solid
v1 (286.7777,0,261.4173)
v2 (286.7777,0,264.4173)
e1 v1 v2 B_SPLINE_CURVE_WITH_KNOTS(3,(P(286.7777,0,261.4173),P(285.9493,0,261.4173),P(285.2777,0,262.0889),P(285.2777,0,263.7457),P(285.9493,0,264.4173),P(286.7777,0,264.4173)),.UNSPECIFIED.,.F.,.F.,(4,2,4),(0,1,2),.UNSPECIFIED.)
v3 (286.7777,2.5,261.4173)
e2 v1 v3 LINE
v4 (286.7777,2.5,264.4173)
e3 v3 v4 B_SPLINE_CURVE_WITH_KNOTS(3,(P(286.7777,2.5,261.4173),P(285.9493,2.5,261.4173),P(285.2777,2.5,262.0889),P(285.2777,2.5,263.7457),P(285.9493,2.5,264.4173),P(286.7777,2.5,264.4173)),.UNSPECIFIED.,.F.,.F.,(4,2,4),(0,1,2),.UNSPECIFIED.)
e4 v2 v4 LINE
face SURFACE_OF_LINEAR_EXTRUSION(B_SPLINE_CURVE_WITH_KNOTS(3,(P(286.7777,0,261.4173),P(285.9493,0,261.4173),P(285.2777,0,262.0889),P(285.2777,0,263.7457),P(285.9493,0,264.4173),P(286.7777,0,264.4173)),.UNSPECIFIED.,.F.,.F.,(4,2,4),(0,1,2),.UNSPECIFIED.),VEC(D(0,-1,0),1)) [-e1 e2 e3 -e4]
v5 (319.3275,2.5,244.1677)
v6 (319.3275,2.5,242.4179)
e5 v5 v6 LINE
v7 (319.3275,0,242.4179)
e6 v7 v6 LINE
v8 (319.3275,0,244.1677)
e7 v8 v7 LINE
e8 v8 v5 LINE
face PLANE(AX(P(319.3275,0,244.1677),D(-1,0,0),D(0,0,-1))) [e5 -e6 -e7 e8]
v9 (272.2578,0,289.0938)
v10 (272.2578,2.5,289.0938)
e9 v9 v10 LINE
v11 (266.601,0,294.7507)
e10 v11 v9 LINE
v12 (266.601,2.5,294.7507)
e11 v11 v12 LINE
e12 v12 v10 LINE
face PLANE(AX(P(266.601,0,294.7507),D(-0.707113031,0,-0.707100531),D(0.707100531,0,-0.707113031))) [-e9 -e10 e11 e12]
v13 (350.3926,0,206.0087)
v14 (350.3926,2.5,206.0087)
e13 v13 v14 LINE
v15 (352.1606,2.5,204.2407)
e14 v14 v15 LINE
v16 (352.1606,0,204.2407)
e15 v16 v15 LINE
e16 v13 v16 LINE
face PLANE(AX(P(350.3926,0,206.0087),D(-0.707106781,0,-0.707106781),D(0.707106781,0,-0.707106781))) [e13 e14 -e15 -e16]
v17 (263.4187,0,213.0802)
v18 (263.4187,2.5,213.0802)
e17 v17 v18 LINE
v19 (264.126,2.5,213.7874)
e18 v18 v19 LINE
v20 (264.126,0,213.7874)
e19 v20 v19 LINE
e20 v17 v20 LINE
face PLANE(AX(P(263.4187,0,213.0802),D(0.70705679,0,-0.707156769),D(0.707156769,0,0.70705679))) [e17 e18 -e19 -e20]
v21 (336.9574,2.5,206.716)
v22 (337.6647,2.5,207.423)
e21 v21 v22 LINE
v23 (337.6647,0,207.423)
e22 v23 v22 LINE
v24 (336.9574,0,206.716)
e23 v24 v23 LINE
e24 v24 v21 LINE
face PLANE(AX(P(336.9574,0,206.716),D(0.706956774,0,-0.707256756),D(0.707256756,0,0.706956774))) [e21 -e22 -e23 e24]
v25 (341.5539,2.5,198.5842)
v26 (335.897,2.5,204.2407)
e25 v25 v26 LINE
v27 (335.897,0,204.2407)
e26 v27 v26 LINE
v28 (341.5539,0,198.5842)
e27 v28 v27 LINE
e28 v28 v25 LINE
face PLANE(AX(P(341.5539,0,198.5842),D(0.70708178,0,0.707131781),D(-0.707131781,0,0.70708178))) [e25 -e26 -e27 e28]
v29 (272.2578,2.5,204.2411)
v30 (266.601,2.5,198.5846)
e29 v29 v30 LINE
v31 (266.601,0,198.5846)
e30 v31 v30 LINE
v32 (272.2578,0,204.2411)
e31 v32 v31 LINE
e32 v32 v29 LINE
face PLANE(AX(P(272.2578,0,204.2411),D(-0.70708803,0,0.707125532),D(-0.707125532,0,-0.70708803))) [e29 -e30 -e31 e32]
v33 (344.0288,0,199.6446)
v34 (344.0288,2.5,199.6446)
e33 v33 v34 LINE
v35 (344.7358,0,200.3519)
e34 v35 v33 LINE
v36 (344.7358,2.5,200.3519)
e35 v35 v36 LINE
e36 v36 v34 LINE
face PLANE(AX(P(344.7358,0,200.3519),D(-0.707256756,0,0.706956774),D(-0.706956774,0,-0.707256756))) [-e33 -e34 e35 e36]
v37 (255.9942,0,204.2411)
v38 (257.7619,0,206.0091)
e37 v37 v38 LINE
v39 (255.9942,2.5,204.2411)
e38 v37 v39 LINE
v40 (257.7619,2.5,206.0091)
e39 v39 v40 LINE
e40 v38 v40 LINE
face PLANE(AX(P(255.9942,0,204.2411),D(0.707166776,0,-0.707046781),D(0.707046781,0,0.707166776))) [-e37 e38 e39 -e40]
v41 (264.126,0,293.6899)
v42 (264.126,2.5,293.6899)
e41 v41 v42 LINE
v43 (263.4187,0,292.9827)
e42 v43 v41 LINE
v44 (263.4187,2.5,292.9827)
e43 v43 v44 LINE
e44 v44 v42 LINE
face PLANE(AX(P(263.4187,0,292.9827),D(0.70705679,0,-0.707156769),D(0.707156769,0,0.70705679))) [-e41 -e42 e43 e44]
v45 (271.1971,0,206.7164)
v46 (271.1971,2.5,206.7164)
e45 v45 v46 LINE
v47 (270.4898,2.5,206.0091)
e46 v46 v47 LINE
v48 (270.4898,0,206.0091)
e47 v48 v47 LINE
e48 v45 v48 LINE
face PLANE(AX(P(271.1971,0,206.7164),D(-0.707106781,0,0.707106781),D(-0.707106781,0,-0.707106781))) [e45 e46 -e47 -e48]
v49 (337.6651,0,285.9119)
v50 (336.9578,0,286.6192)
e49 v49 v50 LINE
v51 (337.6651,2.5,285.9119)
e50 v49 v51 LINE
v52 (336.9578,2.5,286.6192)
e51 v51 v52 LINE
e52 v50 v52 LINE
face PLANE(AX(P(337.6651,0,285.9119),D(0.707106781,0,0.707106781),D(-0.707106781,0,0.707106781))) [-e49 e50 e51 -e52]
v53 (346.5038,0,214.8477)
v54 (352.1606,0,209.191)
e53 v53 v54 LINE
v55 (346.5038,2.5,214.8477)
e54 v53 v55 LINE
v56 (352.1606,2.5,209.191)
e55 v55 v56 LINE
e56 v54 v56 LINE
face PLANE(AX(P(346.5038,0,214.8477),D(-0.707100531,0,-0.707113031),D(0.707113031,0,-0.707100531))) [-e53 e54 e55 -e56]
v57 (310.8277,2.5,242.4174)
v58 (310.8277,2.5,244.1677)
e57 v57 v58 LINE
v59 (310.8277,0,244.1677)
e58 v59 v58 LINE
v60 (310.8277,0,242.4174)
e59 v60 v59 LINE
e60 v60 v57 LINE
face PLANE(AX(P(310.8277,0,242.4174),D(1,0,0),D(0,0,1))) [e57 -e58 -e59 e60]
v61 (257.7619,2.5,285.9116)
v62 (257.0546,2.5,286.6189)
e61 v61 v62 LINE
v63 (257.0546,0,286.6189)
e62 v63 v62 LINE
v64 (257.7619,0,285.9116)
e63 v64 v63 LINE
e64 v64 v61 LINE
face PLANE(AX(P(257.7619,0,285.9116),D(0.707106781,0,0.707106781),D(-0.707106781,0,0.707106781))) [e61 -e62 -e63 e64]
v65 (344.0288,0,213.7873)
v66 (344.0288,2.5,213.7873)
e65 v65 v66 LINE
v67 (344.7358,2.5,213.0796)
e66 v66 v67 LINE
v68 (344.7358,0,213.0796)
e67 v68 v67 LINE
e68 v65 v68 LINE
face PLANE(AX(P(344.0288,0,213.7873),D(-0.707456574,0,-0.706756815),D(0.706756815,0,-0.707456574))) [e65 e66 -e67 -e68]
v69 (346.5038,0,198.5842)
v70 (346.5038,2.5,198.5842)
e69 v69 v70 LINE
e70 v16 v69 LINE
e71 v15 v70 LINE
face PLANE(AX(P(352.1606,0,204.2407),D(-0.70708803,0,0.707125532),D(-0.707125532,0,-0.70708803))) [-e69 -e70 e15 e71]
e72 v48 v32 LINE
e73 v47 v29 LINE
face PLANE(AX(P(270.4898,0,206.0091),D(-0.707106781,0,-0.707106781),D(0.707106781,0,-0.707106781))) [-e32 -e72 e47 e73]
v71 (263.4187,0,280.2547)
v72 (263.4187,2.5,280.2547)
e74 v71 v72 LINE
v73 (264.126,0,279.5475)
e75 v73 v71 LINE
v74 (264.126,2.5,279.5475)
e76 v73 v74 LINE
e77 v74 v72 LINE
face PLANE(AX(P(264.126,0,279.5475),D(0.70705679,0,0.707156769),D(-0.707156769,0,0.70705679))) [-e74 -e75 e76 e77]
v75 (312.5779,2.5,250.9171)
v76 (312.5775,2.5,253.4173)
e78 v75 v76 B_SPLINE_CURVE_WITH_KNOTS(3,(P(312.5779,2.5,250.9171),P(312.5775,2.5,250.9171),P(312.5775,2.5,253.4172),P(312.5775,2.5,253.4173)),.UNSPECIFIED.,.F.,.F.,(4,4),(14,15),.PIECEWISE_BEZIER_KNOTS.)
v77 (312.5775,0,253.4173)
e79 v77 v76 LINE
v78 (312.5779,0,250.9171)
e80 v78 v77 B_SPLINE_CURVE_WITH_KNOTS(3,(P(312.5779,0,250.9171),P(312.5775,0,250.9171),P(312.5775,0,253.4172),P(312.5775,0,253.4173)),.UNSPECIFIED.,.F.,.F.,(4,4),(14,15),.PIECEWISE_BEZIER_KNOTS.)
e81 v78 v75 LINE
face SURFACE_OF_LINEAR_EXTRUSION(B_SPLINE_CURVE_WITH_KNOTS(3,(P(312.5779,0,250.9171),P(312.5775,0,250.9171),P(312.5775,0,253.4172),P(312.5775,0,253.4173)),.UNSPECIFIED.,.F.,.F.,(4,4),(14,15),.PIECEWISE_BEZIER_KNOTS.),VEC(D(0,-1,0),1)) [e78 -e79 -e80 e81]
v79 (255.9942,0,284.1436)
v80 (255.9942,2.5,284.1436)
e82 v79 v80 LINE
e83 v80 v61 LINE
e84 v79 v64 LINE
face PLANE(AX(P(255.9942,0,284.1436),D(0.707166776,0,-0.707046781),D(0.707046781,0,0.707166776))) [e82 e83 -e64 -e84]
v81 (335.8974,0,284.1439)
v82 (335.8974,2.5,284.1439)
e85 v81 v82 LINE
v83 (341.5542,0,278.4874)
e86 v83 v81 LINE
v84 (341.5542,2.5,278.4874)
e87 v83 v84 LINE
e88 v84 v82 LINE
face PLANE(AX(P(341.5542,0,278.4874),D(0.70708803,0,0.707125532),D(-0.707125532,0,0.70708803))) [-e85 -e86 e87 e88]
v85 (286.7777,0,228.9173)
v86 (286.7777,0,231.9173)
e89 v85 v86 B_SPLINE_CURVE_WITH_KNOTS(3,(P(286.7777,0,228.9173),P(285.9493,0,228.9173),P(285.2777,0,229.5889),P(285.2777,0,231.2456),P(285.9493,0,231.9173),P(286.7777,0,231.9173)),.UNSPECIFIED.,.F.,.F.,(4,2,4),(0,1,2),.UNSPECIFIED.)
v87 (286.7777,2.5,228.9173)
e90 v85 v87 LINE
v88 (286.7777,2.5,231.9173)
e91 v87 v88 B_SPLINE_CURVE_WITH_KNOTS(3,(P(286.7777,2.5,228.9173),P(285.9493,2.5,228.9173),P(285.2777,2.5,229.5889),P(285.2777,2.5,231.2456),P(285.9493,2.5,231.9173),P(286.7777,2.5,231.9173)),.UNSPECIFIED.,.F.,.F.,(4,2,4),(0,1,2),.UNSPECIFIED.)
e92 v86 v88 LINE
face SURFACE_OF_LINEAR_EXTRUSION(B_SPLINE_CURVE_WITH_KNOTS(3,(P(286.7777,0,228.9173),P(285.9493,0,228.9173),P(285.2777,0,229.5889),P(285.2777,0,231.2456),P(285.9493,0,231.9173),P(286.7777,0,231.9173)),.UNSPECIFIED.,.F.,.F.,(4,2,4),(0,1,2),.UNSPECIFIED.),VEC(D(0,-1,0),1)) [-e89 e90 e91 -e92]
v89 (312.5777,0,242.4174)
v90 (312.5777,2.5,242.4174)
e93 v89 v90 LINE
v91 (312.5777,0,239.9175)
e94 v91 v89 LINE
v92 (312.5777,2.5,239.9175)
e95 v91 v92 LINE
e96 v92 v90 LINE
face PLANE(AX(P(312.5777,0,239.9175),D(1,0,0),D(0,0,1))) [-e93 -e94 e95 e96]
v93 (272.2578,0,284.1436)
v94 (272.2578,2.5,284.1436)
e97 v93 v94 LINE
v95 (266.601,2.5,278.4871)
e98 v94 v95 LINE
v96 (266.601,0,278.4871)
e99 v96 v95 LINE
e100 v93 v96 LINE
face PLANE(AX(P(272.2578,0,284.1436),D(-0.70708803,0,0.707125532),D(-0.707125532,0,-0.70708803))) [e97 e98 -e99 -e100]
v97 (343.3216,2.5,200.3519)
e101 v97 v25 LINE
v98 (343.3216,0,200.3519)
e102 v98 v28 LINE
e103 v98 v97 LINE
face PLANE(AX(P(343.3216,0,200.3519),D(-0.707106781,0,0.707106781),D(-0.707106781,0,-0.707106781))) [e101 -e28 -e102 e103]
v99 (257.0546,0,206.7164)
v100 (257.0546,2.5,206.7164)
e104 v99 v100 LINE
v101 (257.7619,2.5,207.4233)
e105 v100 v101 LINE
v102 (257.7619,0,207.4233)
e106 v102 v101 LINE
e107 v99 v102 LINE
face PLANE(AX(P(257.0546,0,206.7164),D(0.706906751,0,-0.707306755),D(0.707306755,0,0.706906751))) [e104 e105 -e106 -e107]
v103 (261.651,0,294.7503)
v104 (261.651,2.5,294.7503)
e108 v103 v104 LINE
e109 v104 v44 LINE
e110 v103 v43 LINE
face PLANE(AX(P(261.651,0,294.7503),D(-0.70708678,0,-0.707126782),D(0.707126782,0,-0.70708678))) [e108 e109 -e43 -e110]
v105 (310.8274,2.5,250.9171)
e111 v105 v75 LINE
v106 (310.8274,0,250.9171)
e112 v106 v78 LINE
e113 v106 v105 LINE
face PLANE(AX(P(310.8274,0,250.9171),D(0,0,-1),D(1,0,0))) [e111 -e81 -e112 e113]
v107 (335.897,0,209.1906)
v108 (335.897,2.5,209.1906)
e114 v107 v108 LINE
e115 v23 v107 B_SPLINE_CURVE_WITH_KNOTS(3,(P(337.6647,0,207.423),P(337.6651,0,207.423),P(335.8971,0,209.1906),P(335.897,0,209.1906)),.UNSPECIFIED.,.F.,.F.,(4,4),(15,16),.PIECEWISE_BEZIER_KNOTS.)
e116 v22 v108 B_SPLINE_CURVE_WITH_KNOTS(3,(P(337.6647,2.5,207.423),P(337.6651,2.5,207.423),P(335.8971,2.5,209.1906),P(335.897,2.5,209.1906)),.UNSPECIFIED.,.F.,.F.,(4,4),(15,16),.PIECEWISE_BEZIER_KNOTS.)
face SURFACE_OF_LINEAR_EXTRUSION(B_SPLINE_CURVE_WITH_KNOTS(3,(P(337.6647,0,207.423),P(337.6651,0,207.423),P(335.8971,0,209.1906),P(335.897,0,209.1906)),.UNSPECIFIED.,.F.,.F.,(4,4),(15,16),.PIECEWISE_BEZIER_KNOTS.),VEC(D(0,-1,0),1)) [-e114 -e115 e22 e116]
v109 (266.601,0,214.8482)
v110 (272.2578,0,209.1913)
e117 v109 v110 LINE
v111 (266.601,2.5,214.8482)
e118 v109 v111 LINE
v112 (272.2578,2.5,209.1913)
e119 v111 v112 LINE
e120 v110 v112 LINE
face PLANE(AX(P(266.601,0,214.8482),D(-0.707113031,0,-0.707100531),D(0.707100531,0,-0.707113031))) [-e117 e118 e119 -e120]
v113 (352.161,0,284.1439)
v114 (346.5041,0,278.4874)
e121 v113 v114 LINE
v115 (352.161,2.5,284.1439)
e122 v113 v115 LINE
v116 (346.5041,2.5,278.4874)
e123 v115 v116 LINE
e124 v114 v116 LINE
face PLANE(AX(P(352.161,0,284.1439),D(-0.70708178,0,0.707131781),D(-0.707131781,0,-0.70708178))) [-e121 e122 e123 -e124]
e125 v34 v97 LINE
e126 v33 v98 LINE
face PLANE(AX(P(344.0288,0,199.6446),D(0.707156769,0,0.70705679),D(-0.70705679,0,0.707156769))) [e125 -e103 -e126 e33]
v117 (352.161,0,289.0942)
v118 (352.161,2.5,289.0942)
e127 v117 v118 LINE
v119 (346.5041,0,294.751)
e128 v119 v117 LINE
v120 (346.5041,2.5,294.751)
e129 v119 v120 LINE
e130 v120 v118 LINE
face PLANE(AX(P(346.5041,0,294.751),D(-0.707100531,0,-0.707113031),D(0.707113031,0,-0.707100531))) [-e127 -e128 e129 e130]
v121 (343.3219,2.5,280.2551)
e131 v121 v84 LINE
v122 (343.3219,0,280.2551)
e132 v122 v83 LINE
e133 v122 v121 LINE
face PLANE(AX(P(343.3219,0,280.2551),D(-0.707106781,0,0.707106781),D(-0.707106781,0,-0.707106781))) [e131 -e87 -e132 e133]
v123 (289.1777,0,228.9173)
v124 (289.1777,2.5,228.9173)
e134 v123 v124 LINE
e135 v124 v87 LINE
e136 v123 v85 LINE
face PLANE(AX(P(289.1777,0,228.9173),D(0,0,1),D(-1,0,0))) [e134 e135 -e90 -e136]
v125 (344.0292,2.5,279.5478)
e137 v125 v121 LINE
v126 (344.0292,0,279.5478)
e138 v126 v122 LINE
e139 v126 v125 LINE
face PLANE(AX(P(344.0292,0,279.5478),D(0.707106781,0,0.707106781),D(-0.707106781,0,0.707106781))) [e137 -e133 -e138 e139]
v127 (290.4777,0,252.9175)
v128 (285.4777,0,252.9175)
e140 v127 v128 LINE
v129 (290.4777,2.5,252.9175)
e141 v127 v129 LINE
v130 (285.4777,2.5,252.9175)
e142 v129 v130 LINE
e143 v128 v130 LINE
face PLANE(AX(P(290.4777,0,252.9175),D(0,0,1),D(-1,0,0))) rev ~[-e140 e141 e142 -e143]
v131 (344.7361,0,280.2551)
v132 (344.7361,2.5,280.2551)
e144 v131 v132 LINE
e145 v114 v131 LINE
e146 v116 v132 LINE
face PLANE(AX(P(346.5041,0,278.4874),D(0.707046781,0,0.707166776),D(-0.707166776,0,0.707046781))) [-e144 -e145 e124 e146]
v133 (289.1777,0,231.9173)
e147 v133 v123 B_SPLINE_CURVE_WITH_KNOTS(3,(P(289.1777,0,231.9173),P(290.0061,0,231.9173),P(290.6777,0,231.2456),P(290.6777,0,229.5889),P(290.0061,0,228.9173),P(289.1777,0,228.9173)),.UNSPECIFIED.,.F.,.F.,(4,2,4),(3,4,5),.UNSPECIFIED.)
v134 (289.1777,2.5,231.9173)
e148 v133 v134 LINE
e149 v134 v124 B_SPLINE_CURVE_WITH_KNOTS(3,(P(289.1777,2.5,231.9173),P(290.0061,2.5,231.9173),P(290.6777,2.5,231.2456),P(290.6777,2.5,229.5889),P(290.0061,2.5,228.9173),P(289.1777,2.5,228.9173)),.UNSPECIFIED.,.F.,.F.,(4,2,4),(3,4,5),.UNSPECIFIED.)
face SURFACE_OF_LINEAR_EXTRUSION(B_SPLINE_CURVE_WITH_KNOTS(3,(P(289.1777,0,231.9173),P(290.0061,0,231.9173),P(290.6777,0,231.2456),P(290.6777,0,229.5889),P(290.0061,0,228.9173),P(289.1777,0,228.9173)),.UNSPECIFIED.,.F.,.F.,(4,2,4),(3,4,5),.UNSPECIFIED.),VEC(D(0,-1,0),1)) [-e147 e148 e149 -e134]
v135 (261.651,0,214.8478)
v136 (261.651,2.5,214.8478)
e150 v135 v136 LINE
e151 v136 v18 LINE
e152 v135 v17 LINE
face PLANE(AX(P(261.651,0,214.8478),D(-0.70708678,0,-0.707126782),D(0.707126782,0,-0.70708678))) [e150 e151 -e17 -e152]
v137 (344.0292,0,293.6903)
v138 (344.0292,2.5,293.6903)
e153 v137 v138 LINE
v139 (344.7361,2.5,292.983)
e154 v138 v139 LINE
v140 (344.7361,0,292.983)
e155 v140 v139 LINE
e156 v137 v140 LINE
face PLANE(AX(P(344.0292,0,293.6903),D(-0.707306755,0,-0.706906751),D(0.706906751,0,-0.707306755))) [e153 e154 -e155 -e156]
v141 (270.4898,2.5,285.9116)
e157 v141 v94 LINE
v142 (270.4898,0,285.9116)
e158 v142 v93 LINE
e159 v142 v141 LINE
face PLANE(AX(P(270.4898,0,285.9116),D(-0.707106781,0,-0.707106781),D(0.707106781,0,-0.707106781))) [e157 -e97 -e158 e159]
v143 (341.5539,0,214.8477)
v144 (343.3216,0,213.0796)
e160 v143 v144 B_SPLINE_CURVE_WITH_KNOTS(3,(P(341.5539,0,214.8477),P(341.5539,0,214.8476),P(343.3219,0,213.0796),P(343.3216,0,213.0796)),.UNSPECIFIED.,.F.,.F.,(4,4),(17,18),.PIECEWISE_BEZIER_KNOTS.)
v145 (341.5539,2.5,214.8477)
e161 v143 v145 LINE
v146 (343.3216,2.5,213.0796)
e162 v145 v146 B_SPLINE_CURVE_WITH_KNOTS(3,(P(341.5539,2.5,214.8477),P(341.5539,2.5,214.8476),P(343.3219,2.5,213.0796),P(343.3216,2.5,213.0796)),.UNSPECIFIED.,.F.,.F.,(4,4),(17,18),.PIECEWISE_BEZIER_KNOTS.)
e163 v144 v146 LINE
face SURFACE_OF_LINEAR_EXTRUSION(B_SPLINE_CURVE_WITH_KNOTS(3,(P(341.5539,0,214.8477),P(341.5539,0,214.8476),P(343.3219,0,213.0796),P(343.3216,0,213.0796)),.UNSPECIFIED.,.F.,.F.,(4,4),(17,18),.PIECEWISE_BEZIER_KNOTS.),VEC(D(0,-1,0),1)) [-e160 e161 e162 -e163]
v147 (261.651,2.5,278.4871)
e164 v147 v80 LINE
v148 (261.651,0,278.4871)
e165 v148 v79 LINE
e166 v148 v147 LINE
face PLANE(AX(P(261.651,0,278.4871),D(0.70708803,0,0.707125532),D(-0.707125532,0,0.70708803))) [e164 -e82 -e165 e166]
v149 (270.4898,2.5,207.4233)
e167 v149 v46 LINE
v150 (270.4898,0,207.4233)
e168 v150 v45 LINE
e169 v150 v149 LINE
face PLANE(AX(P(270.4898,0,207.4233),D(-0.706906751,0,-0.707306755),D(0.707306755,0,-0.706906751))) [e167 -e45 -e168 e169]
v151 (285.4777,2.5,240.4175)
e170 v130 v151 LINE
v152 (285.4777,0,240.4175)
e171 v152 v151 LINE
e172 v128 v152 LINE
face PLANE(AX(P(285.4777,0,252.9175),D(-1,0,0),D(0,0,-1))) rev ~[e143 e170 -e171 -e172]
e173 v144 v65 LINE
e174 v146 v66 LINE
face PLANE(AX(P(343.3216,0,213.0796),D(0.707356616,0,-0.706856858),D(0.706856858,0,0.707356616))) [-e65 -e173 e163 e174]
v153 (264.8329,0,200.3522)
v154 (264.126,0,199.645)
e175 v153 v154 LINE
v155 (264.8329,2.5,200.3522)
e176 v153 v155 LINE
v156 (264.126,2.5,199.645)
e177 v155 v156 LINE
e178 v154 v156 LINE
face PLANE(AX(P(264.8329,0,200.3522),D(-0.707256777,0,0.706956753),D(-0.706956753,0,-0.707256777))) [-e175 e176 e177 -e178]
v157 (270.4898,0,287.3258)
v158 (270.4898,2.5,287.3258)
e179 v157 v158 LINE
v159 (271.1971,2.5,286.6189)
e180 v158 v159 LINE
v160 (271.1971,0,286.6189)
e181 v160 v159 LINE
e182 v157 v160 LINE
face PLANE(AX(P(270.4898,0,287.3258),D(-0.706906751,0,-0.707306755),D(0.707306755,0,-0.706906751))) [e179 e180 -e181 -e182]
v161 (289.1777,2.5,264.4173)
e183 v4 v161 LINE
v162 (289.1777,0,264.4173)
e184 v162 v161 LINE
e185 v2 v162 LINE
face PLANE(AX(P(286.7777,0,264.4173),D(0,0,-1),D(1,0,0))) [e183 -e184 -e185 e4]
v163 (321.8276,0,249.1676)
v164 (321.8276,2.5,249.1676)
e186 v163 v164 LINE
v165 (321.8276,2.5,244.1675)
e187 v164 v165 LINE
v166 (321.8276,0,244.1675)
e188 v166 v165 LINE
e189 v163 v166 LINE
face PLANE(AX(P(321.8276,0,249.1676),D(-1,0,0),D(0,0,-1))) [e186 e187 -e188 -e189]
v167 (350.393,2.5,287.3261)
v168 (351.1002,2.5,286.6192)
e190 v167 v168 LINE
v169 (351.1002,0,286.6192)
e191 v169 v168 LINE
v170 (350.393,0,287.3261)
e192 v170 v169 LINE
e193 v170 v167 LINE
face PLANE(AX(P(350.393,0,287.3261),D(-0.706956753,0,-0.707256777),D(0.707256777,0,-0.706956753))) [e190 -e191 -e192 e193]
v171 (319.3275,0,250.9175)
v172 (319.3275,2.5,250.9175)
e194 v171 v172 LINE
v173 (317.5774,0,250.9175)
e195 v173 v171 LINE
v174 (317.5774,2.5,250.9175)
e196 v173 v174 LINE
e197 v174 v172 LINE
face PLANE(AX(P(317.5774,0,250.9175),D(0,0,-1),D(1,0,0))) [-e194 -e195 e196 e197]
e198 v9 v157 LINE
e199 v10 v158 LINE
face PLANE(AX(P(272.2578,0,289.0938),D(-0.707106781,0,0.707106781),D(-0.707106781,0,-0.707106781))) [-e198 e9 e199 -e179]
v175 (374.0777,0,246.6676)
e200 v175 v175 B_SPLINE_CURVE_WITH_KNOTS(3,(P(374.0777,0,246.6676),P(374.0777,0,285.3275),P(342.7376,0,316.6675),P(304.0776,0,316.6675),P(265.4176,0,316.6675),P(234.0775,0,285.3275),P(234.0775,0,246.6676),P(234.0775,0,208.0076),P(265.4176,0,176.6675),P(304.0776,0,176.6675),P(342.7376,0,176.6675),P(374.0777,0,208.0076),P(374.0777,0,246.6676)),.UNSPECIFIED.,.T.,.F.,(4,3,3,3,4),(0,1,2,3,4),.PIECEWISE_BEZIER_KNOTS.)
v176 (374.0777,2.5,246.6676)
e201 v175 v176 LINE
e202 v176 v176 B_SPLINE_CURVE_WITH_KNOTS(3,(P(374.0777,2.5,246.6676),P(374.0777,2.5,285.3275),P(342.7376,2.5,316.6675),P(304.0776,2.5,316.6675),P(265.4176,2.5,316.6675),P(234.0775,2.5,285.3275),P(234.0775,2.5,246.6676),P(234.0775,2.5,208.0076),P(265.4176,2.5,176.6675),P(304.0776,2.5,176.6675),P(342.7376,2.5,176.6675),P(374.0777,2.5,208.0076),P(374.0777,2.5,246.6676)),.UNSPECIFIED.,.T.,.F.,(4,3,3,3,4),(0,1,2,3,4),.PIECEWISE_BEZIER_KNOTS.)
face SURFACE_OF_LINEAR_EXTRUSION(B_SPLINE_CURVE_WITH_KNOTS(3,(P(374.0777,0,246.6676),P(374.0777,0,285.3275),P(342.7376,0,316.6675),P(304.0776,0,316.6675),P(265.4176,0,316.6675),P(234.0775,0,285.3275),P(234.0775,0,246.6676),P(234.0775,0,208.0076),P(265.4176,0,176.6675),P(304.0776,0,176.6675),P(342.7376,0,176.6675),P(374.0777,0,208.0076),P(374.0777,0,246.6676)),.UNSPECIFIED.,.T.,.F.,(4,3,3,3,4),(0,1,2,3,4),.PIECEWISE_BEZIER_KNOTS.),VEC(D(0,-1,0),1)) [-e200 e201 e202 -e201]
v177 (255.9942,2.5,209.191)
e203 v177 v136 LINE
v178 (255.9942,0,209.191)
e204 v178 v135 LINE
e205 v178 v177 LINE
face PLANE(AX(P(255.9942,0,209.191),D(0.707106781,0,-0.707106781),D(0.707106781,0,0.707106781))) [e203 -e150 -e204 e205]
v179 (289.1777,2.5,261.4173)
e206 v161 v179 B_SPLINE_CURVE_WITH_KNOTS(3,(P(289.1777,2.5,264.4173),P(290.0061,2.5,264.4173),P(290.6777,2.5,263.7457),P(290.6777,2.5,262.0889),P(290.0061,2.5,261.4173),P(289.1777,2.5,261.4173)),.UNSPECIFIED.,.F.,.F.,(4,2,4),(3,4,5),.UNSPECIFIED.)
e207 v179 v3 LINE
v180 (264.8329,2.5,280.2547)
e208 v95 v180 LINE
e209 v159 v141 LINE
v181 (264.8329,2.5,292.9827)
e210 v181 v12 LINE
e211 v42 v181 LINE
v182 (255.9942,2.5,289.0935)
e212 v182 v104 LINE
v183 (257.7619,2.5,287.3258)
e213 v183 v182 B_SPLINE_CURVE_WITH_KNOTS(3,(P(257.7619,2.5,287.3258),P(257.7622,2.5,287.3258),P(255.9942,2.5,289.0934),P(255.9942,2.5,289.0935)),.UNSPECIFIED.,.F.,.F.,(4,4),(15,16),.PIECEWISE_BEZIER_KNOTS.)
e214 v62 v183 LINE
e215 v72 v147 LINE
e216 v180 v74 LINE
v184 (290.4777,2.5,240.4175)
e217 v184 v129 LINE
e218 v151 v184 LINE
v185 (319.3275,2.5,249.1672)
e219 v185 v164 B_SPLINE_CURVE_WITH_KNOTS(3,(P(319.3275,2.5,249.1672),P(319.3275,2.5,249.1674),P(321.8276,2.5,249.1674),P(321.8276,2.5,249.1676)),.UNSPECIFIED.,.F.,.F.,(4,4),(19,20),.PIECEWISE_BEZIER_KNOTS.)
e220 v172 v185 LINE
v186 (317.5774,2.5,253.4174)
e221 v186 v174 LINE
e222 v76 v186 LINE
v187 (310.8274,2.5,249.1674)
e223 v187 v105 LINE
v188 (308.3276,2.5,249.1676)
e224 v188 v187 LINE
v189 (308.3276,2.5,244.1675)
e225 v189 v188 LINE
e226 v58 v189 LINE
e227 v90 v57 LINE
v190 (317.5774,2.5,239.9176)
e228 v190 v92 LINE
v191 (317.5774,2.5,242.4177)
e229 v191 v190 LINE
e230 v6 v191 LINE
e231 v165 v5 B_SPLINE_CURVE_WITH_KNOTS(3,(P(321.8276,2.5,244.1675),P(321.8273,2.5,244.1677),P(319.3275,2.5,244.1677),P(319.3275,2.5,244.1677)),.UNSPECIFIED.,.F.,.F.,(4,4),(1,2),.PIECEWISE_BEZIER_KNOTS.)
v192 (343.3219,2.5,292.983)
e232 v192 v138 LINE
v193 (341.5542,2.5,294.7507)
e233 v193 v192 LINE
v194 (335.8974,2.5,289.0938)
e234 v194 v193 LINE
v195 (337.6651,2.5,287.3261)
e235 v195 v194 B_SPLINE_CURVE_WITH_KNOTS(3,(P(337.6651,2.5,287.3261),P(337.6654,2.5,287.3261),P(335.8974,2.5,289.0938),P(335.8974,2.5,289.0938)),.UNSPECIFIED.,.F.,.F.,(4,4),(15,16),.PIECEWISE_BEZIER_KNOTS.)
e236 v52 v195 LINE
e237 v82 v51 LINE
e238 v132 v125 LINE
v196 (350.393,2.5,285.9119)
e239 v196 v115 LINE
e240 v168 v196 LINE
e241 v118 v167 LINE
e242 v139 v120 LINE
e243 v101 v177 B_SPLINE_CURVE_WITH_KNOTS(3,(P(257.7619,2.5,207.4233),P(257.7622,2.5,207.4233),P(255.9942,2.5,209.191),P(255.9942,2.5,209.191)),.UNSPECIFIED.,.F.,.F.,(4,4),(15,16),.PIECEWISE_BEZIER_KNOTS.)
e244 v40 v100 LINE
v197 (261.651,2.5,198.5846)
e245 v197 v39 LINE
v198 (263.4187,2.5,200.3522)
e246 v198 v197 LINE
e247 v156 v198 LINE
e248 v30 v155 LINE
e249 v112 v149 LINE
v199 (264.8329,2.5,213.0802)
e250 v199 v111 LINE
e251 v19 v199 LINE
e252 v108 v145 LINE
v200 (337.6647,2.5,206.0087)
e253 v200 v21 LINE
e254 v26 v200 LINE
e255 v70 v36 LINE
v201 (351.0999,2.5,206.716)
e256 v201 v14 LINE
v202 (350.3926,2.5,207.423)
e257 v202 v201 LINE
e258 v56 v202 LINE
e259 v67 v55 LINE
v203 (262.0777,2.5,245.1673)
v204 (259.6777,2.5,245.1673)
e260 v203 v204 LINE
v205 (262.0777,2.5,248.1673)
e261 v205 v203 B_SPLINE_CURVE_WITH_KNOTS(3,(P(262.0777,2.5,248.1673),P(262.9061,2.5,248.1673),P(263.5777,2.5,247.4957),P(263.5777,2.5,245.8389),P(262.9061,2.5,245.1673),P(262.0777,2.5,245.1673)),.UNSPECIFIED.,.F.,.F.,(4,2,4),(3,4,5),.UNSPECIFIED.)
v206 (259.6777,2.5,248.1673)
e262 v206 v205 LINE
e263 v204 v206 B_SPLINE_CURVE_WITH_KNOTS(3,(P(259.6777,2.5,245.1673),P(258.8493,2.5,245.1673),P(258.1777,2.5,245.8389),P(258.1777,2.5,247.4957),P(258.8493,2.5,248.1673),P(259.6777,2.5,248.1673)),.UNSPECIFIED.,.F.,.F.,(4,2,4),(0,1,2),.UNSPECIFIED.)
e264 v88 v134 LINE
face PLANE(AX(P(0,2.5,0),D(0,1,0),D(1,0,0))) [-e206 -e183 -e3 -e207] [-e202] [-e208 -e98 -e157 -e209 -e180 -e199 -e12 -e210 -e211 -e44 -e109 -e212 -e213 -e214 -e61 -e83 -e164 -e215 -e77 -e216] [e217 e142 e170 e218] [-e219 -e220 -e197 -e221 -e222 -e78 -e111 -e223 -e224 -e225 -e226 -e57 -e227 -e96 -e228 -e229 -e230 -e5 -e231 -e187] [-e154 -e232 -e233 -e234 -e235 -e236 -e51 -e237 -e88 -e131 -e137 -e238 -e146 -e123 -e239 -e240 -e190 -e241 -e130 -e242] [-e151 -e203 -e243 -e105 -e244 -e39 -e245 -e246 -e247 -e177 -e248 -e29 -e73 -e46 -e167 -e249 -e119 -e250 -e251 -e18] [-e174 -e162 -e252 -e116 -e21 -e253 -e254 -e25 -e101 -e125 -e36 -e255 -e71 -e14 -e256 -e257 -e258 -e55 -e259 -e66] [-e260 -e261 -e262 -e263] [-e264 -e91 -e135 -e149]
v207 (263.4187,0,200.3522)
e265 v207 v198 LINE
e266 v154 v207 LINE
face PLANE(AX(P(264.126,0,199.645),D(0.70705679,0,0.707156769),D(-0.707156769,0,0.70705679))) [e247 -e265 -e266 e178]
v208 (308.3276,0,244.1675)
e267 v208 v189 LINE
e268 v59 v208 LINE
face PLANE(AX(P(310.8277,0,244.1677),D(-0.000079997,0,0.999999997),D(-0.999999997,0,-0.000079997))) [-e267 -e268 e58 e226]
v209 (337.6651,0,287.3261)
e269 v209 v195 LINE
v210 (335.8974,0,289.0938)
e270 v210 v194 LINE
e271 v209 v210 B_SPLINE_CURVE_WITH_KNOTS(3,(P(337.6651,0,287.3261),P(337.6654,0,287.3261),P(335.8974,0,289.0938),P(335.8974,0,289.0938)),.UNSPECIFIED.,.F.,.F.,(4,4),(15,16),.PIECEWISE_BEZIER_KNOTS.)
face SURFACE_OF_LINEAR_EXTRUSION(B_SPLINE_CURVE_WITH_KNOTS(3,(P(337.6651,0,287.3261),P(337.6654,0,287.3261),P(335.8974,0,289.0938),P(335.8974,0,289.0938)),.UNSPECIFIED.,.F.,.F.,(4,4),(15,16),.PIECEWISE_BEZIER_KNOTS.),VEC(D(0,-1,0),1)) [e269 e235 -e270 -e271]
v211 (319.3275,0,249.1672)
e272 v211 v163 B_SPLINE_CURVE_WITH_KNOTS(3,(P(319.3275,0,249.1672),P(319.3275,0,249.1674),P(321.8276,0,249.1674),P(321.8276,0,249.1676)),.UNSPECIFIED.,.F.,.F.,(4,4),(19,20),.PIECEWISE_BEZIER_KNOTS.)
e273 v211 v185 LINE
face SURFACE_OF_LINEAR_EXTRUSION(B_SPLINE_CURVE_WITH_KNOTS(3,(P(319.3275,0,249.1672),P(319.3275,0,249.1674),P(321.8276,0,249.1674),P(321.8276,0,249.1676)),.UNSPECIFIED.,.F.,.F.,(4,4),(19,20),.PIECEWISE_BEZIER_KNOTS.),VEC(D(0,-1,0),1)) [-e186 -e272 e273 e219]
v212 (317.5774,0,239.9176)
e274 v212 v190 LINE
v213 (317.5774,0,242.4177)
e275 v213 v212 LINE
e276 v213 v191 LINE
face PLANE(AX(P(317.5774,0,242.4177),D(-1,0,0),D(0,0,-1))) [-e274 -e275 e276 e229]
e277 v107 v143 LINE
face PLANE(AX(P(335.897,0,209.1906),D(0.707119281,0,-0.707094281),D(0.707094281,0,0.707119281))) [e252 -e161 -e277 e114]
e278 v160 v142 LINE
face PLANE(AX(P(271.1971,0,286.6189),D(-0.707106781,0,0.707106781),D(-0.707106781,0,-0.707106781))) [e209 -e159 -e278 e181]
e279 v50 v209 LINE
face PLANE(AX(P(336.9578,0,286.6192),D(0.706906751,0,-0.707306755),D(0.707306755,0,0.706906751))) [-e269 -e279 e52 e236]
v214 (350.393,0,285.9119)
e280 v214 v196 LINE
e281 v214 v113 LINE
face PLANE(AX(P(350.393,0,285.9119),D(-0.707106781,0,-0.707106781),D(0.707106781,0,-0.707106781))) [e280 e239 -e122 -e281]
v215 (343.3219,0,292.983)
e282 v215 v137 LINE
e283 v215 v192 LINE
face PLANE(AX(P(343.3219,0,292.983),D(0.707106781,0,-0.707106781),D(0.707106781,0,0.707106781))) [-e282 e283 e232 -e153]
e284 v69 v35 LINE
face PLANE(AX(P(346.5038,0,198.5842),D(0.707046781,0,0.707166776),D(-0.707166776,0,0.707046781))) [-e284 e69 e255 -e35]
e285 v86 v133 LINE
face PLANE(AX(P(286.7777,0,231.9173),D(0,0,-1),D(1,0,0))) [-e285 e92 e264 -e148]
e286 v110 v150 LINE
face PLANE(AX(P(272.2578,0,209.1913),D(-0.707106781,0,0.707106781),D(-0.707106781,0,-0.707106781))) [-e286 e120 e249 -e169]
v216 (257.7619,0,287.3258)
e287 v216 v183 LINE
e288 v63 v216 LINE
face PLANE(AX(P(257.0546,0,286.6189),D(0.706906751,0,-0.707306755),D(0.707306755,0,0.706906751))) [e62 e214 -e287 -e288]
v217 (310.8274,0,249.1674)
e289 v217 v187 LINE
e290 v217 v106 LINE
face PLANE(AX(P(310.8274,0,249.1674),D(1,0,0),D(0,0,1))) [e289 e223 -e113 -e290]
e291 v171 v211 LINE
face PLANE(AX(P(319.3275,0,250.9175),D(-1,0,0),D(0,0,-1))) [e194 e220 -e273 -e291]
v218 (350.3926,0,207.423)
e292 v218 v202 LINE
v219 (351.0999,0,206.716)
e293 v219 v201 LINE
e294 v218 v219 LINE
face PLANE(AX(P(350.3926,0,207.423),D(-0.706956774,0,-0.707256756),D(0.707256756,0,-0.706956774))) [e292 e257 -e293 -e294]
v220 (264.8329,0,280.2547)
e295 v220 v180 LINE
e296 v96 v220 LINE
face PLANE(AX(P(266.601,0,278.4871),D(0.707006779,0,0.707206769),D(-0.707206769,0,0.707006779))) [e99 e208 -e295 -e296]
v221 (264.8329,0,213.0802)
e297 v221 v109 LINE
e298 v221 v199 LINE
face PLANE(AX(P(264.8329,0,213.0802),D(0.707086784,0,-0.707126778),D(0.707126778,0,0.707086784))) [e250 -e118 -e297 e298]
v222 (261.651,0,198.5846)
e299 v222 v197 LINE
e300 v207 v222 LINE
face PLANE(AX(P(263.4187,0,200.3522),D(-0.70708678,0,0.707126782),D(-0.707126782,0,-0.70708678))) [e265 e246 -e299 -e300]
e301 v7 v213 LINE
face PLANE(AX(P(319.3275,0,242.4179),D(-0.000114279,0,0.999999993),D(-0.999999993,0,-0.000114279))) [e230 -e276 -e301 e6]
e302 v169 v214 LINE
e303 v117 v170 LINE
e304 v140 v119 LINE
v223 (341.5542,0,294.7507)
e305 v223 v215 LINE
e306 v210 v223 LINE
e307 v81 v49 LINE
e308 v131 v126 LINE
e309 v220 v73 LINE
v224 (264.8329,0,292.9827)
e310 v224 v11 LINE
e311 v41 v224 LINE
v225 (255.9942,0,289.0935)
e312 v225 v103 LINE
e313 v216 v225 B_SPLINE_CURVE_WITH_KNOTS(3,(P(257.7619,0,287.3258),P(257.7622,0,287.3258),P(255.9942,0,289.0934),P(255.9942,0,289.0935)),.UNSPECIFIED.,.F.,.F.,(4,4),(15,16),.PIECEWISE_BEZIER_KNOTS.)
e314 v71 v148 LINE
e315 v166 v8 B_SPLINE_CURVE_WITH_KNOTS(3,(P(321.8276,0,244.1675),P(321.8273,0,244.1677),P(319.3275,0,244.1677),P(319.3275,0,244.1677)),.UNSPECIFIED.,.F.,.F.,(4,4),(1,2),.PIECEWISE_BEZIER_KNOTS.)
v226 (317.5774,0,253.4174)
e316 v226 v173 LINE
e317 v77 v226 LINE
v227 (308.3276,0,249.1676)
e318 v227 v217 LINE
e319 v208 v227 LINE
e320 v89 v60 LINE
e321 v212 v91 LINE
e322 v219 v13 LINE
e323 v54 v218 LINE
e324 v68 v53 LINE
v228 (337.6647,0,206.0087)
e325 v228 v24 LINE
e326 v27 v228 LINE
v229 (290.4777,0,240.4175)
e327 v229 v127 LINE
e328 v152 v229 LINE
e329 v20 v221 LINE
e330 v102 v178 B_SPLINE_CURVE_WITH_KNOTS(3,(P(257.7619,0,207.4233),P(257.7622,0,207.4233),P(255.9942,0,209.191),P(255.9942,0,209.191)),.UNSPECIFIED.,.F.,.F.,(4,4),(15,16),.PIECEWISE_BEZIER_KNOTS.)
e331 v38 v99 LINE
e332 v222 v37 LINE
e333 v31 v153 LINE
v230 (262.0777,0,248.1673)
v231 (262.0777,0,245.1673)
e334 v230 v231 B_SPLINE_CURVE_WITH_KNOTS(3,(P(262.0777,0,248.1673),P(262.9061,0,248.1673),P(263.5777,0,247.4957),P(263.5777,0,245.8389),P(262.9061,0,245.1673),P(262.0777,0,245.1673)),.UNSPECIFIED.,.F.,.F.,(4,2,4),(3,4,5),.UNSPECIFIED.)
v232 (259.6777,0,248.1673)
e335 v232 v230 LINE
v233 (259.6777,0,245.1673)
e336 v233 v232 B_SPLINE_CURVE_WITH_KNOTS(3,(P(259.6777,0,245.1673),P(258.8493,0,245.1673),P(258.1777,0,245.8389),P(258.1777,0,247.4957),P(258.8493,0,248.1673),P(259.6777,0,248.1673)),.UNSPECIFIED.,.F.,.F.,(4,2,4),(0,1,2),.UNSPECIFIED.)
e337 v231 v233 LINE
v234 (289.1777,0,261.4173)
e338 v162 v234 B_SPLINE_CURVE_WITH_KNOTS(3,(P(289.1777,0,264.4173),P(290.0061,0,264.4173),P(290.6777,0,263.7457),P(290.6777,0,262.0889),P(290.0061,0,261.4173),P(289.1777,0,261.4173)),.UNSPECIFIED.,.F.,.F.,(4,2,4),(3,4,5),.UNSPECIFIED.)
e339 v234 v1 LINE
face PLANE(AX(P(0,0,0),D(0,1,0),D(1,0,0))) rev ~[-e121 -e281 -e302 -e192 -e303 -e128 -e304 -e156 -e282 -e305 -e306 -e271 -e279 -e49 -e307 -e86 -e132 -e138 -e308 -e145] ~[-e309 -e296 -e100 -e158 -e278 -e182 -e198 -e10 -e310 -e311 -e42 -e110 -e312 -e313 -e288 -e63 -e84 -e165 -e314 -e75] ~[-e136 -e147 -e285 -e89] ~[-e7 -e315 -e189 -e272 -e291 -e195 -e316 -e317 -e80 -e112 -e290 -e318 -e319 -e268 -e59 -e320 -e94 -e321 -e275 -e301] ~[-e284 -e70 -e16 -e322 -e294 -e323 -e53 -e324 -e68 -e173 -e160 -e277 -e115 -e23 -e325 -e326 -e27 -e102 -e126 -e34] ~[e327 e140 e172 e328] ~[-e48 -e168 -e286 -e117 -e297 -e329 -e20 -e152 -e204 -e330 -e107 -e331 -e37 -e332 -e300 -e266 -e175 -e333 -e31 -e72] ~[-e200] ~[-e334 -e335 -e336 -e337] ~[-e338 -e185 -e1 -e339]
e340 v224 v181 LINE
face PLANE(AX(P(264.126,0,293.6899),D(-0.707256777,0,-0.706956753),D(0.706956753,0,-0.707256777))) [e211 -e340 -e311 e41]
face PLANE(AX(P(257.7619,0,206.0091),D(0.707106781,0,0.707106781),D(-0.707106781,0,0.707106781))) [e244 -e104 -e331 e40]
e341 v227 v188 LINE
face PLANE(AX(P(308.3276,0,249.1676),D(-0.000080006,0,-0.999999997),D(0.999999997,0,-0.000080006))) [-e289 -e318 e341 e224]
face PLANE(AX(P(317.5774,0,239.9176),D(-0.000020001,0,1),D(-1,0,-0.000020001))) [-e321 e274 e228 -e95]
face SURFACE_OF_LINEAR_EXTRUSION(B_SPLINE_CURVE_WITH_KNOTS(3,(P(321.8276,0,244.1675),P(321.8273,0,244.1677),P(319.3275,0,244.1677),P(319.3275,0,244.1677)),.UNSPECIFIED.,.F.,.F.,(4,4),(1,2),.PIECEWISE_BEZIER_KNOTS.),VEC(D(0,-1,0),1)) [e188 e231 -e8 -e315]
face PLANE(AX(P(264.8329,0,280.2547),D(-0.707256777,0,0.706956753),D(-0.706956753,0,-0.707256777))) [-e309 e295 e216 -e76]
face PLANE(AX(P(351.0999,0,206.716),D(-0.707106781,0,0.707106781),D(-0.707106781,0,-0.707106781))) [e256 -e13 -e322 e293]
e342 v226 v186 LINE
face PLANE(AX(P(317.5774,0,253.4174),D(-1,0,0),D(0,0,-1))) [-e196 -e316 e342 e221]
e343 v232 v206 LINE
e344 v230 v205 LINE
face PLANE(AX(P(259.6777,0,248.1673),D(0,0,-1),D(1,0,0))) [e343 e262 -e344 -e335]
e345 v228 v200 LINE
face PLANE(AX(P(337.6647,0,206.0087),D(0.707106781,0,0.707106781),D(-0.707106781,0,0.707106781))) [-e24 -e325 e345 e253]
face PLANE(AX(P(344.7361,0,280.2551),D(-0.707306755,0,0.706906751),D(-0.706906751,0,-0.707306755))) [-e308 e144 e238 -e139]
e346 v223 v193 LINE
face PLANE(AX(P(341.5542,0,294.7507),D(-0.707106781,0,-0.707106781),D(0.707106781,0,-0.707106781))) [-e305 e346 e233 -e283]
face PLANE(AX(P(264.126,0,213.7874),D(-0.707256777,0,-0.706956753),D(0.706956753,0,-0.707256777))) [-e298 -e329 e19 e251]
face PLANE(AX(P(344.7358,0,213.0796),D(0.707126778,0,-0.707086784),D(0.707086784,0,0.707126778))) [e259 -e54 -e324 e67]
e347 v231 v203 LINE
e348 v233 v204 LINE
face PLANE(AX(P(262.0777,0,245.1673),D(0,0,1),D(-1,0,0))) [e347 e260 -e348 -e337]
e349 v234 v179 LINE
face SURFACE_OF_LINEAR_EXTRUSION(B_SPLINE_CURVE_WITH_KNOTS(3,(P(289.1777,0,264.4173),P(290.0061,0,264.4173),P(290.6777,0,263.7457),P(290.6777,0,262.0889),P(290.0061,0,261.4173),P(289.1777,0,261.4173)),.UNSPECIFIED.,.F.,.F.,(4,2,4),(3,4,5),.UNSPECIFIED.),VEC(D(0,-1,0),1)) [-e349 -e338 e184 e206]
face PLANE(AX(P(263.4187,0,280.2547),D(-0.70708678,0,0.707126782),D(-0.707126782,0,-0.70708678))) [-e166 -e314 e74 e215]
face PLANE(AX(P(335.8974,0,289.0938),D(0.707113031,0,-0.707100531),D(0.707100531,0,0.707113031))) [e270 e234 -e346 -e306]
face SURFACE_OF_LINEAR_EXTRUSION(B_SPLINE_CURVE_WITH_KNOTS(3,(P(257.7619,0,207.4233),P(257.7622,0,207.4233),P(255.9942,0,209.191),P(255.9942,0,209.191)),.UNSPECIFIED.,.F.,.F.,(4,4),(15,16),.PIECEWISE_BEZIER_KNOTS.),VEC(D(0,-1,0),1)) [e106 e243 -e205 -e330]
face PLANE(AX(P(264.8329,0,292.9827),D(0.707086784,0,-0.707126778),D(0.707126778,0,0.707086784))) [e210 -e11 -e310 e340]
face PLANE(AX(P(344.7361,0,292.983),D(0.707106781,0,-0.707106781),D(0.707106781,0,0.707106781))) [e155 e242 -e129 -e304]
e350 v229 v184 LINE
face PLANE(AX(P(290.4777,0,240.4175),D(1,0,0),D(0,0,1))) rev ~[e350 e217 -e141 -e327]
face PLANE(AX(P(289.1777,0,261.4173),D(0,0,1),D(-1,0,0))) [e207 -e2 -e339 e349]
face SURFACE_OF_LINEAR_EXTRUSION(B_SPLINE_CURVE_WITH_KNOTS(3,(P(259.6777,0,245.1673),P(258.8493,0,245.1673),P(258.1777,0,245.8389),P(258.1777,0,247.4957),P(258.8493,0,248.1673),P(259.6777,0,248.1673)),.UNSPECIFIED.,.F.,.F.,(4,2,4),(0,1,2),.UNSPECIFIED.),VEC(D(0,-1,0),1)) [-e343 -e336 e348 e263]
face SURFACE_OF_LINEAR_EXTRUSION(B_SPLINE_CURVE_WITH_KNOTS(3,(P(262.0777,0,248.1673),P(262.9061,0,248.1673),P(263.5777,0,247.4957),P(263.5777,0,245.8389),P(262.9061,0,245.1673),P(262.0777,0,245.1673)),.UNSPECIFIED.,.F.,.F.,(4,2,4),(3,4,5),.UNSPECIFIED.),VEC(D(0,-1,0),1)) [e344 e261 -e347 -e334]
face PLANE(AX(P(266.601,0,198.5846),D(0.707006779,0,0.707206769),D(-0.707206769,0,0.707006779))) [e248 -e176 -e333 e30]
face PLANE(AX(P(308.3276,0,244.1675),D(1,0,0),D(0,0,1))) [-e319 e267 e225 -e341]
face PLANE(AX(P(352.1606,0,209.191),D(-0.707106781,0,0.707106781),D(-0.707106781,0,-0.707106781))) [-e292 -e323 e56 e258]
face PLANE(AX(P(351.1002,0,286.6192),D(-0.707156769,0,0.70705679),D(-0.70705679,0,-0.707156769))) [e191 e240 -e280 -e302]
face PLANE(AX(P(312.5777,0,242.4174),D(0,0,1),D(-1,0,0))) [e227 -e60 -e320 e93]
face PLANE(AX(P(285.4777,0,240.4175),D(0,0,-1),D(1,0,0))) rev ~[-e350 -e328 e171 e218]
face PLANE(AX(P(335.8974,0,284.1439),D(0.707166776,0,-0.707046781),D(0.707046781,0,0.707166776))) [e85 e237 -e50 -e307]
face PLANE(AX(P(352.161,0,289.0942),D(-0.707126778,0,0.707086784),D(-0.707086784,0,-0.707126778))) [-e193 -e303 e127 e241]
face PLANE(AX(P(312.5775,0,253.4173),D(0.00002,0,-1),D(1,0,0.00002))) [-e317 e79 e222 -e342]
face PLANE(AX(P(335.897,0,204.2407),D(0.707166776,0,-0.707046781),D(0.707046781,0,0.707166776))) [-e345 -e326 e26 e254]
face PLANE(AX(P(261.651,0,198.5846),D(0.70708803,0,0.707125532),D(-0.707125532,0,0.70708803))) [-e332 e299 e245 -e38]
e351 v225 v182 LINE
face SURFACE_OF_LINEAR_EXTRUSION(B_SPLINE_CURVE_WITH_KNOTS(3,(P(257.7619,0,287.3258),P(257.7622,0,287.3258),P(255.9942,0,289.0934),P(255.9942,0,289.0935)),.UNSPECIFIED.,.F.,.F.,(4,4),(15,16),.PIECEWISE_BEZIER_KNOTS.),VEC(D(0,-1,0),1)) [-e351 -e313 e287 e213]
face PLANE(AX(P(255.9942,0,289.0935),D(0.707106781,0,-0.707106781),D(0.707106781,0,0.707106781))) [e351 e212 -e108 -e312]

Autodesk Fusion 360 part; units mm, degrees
sketch "スケッチ1" plane through (0, 0, 0) normal (0, 1, 0) x (1, 0, 0)
  spline S0 degree 3 poles (286.7777, -261.4173) (285.9493, -261.4173) (285.2777, -262.0889) (285.2777, -263.7457) (285.9493, -264.4173) (286.7777, -264.4173) knots 0 0 0 0 1 1 2 2 2 2
  line L0 (286.7777, -264.4173) -> (289.1777, -264.4173)
  spline S1 degree 3 poles (289.1777, -264.4173) (290.0061, -264.4173) (290.6777, -263.7457) (290.6777, -262.0889) (290.0061, -261.4173) (289.1777, -261.4173) knots 3 3 3 3 4 4 5 5 5 5
  line L1 (289.1777, -261.4173) -> (286.7777, -261.4173)
  line L2 (285.4777, -252.9175) -> (285.4777, -240.4175)
  line L3 (264.8329, -292.9827) -> (266.601, -294.7507)
  line L4 (266.601, -294.7507) -> (272.2578, -289.0938)
  line L5 (272.2578, -289.0938) -> (270.4898, -287.3258)
  line L6 (270.4898, -287.3258) -> (271.1971, -286.6189)
  line L7 (271.1971, -286.6189) -> (270.4898, -285.9116)
  line L8 (270.4898, -285.9116) -> (272.2578, -284.1436)
  line L9 (272.2578, -284.1436) -> (266.601, -278.4871)
  line L10 (266.601, -278.4871) -> (264.8329, -280.2547)
  line L11 (264.8329, -280.2547) -> (264.126, -279.5475)
  line L12 (264.126, -279.5475) -> (263.4187, -280.2547)
  line L13 (263.4187, -280.2547) -> (261.651, -278.4871)
  line L14 (261.651, -278.4871) -> (255.9942, -284.1436)
  line L15 (255.9942, -284.1436) -> (257.7619, -285.9116)
  line L16 (257.7619, -285.9116) -> (257.0546, -286.6189)
  line L17 (257.0546, -286.6189) -> (257.7619, -287.3258)
  spline S2 degree 3 poles (257.7619, -287.3258) (257.7622, -287.3258) (255.9942, -289.0934) (255.9942, -289.0935) knots 15 15 15 15 16 16 16 16
  line L18 (255.9942, -289.0935) -> (261.651, -294.7503)
  line L19 (261.651, -294.7503) -> (263.4187, -292.9827)
  line L20 (263.4187, -292.9827) -> (264.126, -293.6899)
  line L21 (264.126, -293.6899) -> (264.8329, -292.9827)
  line L22 (285.4777, -240.4175) -> (290.4777, -240.4175)
  line L23 (290.4777, -252.9175) -> (285.4777, -252.9175)
  line L24 (344.7358, -213.0796) -> (346.5038, -214.8477)
  line L25 (346.5038, -214.8477) -> (352.1606, -209.191)
  line L26 (352.1606, -209.191) -> (350.3926, -207.423)
  line L27 (350.3926, -207.423) -> (351.0999, -206.716)
  line L28 (351.0999, -206.716) -> (350.3926, -206.0087)
  line L29 (350.3926, -206.0087) -> (352.1606, -204.2407)
  line L30 (352.1606, -204.2407) -> (346.5038, -198.5842)
  line L31 (346.5038, -198.5842) -> (344.7358, -200.3519)
  line L32 (344.7358, -200.3519) -> (344.0288, -199.6446)
  line L33 (344.0288, -199.6446) -> (343.3216, -200.3519)
  line L34 (343.3216, -200.3519) -> (341.5539, -198.5842)
  line L35 (341.5539, -198.5842) -> (335.897, -204.2407)
  line L36 (335.897, -204.2407) -> (337.6647, -206.0087)
  line L37 (337.6647, -206.0087) -> (336.9574, -206.716)
  line L38 (336.9574, -206.716) -> (337.6647, -207.423)
  spline S3 degree 3 poles (337.6647, -207.423) (337.6651, -207.423) (335.8971, -209.1906) (335.897, -209.1906) knots 15 15 15 15 16 16 16 16
  line L39 (335.897, -209.1906) -> (341.5539, -214.8477)
  spline S4 degree 3 poles (341.5539, -214.8477) (341.5539, -214.8476) (343.3219, -213.0796) (343.3216, -213.0796) knots 17 17 17 17 18 18 18 18
  line L40 (343.3216, -213.0796) -> (344.0288, -213.7873)
  line L41 (344.0288, -213.7873) -> (344.7358, -213.0796)
  spline S5 degree 3 poles (259.6777, -245.1673) (258.8493, -245.1673) (258.1777, -245.8389) (258.1777, -247.4957) (258.8493, -248.1673) (259.6777, -248.1673) knots 0 0 0 0 1 1 2 2 2 2
  line L42 (259.6777, -248.1673) -> (262.0777, -248.1673)
  spline S6 degree 3 poles (262.0777, -248.1673) (262.9061, -248.1673) (263.5777, -247.4957) (263.5777, -245.8389) (262.9061, -245.1673) (262.0777, -245.1673) knots 3 3 3 3 4 4 5 5 5 5
  line L43 (262.0777, -245.1673) -> (259.6777, -245.1673)
  spline S7 degree 3 poles (374.0777, -246.6676) (374.0777, -285.3275) (342.7376, -316.6675) (304.0776, -316.6675) (265.4176, -316.6675) (234.0775, -285.3275) (234.0775, -246.6676) (234.0775, -208.0076) (265.4176, -176.6675) (304.0776, -176.6675) (342.7376, -176.6675) (374.0777, -208.0076) (374.0777, -246.6676) knots 0 0 0 0 1 1 1 2 2 2 3 3 3 4 4 4 4
  line L44 (321.8276, -249.1676) -> (321.8276, -244.1675)
  spline S8 degree 3 poles (321.8276, -244.1675) (321.8273, -244.1677) (319.3275, -244.1677) (319.3275, -244.1677) knots 1 1 1 1 2 2 2 2
  line L45 (319.3275, -244.1677) -> (319.3275, -242.4179)
  line L46 (319.3275, -242.4179) -> (317.5774, -242.4177)
  line L47 (317.5774, -242.4177) -> (317.5774, -239.9176)
  line L48 (317.5774, -239.9176) -> (312.5777, -239.9175)
  line L49 (312.5777, -239.9175) -> (312.5777, -242.4174)
  line L50 (312.5777, -242.4174) -> (310.8277, -242.4174)
  line L51 (310.8277, -242.4174) -> (310.8277, -244.1677)
  line L52 (310.8277, -244.1677) -> (308.3276, -244.1675)
  line L53 (308.3276, -244.1675) -> (308.3276, -249.1676)
  line L54 (308.3276, -249.1676) -> (310.8274, -249.1674)
  line L55 (310.8274, -249.1674) -> (310.8274, -250.9171)
  line L56 (310.8274, -250.9171) -> (312.5779, -250.9171)
  spline S9 degree 3 poles (312.5779, -250.9171) (312.5775, -250.9171) (312.5775, -253.4172) (312.5775, -253.4173) knots 14 14 14 14 15 15 15 15
  line L57 (312.5775, -253.4173) -> (317.5774, -253.4174)
  line L58 (317.5774, -253.4174) -> (317.5774, -250.9175)
  line L59 (317.5774, -250.9175) -> (319.3275, -250.9175)
  line L60 (319.3275, -250.9175) -> (319.3275, -249.1672)
  spline S10 degree 3 poles (319.3275, -249.1672) (319.3275, -249.1674) (321.8276, -249.1674) (321.8276, -249.1676) knots 19 19 19 19 20 20 20 20
  line L61 (290.4777, -240.4175) -> (290.4777, -252.9175)
  spline S11 degree 3 poles (286.7777, -228.9173) (285.9493, -228.9173) (285.2777, -229.5889) (285.2777, -231.2456) (285.9493, -231.9173) (286.7777, -231.9173) knots 0 0 0 0 1 1 2 2 2 2
  line L62 (286.7777, -231.9173) -> (289.1777, -231.9173)
  spline S12 degree 3 poles (289.1777, -231.9173) (290.0061, -231.9173) (290.6777, -231.2456) (290.6777, -229.5889) (290.0061, -228.9173) (289.1777, -228.9173) knots 3 3 3 3 4 4 5 5 5 5
  line L63 (289.1777, -228.9173) -> (286.7777, -228.9173)
  line L64 (264.8329, -213.0802) -> (266.601, -214.8482)
  line L65 (266.601, -214.8482) -> (272.2578, -209.1913)
  line L66 (272.2578, -209.1913) -> (270.4898, -207.4233)
  line L67 (270.4898, -207.4233) -> (271.1971, -206.7164)
  line L68 (271.1971, -206.7164) -> (270.4898, -206.0091)
  line L69 (270.4898, -206.0091) -> (272.2578, -204.2411)
  line L70 (272.2578, -204.2411) -> (266.601, -198.5846)
  line L71 (266.601, -198.5846) -> (264.8329, -200.3522)
  line L72 (264.8329, -200.3522) -> (264.126, -199.645)
  line L73 (264.126, -199.645) -> (263.4187, -200.3522)
  line L74 (263.4187, -200.3522) -> (261.651, -198.5846)
  line L75 (261.651, -198.5846) -> (255.9942, -204.2411)
  line L76 (255.9942, -204.2411) -> (257.7619, -206.0091)
  line L77 (257.7619, -206.0091) -> (257.0546, -206.7164)
  line L78 (257.0546, -206.7164) -> (257.7619, -207.4233)
  spline S13 degree 3 poles (257.7619, -207.4233) (257.7622, -207.4233) (255.9942, -209.191) (255.9942, -209.191) knots 15 15 15 15 16 16 16 16
  line L79 (255.9942, -209.191) -> (261.651, -214.8478)
  line L80 (261.651, -214.8478) -> (263.4187, -213.0802)
  line L81 (263.4187, -213.0802) -> (264.126, -213.7874)
  line L82 (264.126, -213.7874) -> (264.8329, -213.0802)
  line L83 (344.7361, -292.983) -> (346.5041, -294.751)
  line L84 (346.5041, -294.751) -> (352.161, -289.0942)
  line L85 (352.161, -289.0942) -> (350.393, -287.3261)
  line L86 (350.393, -287.3261) -> (351.1002, -286.6192)
  line L87 (351.1002, -286.6192) -> (350.393, -285.9119)
  line L88 (350.393, -285.9119) -> (352.161, -284.1439)
  line L89 (352.161, -284.1439) -> (346.5041, -278.4874)
  line L90 (346.5041, -278.4874) -> (344.7361, -280.2551)
  line L91 (344.7361, -280.2551) -> (344.0292, -279.5478)
  line L92 (344.0292, -279.5478) -> (343.3219, -280.2551)
  line L93 (343.3219, -280.2551) -> (341.5542, -278.4874)
  line L94 (341.5542, -278.4874) -> (335.8974, -284.1439)
  line L95 (335.8974, -284.1439) -> (337.6651, -285.9119)
  line L96 (337.6651, -285.9119) -> (336.9578, -286.6192)
  line L97 (336.9578, -286.6192) -> (337.6651, -287.3261)
  spline S14 degree 3 poles (337.6651, -287.3261) (337.6654, -287.3261) (335.8974, -289.0938) (335.8974, -289.0938) knots 15 15 15 15 16 16 16 16
  line L98 (335.8974, -289.0938) -> (341.5542, -294.7507)
  line L99 (341.5542, -294.7507) -> (343.3219, -292.983)
  line L100 (343.3219, -292.983) -> (344.0292, -293.6903)
  line L101 (344.0292, -293.6903) -> (344.7361, -292.983)
extrude "押し出し1" add sketch "スケッチ1" along normal blind 2.5
